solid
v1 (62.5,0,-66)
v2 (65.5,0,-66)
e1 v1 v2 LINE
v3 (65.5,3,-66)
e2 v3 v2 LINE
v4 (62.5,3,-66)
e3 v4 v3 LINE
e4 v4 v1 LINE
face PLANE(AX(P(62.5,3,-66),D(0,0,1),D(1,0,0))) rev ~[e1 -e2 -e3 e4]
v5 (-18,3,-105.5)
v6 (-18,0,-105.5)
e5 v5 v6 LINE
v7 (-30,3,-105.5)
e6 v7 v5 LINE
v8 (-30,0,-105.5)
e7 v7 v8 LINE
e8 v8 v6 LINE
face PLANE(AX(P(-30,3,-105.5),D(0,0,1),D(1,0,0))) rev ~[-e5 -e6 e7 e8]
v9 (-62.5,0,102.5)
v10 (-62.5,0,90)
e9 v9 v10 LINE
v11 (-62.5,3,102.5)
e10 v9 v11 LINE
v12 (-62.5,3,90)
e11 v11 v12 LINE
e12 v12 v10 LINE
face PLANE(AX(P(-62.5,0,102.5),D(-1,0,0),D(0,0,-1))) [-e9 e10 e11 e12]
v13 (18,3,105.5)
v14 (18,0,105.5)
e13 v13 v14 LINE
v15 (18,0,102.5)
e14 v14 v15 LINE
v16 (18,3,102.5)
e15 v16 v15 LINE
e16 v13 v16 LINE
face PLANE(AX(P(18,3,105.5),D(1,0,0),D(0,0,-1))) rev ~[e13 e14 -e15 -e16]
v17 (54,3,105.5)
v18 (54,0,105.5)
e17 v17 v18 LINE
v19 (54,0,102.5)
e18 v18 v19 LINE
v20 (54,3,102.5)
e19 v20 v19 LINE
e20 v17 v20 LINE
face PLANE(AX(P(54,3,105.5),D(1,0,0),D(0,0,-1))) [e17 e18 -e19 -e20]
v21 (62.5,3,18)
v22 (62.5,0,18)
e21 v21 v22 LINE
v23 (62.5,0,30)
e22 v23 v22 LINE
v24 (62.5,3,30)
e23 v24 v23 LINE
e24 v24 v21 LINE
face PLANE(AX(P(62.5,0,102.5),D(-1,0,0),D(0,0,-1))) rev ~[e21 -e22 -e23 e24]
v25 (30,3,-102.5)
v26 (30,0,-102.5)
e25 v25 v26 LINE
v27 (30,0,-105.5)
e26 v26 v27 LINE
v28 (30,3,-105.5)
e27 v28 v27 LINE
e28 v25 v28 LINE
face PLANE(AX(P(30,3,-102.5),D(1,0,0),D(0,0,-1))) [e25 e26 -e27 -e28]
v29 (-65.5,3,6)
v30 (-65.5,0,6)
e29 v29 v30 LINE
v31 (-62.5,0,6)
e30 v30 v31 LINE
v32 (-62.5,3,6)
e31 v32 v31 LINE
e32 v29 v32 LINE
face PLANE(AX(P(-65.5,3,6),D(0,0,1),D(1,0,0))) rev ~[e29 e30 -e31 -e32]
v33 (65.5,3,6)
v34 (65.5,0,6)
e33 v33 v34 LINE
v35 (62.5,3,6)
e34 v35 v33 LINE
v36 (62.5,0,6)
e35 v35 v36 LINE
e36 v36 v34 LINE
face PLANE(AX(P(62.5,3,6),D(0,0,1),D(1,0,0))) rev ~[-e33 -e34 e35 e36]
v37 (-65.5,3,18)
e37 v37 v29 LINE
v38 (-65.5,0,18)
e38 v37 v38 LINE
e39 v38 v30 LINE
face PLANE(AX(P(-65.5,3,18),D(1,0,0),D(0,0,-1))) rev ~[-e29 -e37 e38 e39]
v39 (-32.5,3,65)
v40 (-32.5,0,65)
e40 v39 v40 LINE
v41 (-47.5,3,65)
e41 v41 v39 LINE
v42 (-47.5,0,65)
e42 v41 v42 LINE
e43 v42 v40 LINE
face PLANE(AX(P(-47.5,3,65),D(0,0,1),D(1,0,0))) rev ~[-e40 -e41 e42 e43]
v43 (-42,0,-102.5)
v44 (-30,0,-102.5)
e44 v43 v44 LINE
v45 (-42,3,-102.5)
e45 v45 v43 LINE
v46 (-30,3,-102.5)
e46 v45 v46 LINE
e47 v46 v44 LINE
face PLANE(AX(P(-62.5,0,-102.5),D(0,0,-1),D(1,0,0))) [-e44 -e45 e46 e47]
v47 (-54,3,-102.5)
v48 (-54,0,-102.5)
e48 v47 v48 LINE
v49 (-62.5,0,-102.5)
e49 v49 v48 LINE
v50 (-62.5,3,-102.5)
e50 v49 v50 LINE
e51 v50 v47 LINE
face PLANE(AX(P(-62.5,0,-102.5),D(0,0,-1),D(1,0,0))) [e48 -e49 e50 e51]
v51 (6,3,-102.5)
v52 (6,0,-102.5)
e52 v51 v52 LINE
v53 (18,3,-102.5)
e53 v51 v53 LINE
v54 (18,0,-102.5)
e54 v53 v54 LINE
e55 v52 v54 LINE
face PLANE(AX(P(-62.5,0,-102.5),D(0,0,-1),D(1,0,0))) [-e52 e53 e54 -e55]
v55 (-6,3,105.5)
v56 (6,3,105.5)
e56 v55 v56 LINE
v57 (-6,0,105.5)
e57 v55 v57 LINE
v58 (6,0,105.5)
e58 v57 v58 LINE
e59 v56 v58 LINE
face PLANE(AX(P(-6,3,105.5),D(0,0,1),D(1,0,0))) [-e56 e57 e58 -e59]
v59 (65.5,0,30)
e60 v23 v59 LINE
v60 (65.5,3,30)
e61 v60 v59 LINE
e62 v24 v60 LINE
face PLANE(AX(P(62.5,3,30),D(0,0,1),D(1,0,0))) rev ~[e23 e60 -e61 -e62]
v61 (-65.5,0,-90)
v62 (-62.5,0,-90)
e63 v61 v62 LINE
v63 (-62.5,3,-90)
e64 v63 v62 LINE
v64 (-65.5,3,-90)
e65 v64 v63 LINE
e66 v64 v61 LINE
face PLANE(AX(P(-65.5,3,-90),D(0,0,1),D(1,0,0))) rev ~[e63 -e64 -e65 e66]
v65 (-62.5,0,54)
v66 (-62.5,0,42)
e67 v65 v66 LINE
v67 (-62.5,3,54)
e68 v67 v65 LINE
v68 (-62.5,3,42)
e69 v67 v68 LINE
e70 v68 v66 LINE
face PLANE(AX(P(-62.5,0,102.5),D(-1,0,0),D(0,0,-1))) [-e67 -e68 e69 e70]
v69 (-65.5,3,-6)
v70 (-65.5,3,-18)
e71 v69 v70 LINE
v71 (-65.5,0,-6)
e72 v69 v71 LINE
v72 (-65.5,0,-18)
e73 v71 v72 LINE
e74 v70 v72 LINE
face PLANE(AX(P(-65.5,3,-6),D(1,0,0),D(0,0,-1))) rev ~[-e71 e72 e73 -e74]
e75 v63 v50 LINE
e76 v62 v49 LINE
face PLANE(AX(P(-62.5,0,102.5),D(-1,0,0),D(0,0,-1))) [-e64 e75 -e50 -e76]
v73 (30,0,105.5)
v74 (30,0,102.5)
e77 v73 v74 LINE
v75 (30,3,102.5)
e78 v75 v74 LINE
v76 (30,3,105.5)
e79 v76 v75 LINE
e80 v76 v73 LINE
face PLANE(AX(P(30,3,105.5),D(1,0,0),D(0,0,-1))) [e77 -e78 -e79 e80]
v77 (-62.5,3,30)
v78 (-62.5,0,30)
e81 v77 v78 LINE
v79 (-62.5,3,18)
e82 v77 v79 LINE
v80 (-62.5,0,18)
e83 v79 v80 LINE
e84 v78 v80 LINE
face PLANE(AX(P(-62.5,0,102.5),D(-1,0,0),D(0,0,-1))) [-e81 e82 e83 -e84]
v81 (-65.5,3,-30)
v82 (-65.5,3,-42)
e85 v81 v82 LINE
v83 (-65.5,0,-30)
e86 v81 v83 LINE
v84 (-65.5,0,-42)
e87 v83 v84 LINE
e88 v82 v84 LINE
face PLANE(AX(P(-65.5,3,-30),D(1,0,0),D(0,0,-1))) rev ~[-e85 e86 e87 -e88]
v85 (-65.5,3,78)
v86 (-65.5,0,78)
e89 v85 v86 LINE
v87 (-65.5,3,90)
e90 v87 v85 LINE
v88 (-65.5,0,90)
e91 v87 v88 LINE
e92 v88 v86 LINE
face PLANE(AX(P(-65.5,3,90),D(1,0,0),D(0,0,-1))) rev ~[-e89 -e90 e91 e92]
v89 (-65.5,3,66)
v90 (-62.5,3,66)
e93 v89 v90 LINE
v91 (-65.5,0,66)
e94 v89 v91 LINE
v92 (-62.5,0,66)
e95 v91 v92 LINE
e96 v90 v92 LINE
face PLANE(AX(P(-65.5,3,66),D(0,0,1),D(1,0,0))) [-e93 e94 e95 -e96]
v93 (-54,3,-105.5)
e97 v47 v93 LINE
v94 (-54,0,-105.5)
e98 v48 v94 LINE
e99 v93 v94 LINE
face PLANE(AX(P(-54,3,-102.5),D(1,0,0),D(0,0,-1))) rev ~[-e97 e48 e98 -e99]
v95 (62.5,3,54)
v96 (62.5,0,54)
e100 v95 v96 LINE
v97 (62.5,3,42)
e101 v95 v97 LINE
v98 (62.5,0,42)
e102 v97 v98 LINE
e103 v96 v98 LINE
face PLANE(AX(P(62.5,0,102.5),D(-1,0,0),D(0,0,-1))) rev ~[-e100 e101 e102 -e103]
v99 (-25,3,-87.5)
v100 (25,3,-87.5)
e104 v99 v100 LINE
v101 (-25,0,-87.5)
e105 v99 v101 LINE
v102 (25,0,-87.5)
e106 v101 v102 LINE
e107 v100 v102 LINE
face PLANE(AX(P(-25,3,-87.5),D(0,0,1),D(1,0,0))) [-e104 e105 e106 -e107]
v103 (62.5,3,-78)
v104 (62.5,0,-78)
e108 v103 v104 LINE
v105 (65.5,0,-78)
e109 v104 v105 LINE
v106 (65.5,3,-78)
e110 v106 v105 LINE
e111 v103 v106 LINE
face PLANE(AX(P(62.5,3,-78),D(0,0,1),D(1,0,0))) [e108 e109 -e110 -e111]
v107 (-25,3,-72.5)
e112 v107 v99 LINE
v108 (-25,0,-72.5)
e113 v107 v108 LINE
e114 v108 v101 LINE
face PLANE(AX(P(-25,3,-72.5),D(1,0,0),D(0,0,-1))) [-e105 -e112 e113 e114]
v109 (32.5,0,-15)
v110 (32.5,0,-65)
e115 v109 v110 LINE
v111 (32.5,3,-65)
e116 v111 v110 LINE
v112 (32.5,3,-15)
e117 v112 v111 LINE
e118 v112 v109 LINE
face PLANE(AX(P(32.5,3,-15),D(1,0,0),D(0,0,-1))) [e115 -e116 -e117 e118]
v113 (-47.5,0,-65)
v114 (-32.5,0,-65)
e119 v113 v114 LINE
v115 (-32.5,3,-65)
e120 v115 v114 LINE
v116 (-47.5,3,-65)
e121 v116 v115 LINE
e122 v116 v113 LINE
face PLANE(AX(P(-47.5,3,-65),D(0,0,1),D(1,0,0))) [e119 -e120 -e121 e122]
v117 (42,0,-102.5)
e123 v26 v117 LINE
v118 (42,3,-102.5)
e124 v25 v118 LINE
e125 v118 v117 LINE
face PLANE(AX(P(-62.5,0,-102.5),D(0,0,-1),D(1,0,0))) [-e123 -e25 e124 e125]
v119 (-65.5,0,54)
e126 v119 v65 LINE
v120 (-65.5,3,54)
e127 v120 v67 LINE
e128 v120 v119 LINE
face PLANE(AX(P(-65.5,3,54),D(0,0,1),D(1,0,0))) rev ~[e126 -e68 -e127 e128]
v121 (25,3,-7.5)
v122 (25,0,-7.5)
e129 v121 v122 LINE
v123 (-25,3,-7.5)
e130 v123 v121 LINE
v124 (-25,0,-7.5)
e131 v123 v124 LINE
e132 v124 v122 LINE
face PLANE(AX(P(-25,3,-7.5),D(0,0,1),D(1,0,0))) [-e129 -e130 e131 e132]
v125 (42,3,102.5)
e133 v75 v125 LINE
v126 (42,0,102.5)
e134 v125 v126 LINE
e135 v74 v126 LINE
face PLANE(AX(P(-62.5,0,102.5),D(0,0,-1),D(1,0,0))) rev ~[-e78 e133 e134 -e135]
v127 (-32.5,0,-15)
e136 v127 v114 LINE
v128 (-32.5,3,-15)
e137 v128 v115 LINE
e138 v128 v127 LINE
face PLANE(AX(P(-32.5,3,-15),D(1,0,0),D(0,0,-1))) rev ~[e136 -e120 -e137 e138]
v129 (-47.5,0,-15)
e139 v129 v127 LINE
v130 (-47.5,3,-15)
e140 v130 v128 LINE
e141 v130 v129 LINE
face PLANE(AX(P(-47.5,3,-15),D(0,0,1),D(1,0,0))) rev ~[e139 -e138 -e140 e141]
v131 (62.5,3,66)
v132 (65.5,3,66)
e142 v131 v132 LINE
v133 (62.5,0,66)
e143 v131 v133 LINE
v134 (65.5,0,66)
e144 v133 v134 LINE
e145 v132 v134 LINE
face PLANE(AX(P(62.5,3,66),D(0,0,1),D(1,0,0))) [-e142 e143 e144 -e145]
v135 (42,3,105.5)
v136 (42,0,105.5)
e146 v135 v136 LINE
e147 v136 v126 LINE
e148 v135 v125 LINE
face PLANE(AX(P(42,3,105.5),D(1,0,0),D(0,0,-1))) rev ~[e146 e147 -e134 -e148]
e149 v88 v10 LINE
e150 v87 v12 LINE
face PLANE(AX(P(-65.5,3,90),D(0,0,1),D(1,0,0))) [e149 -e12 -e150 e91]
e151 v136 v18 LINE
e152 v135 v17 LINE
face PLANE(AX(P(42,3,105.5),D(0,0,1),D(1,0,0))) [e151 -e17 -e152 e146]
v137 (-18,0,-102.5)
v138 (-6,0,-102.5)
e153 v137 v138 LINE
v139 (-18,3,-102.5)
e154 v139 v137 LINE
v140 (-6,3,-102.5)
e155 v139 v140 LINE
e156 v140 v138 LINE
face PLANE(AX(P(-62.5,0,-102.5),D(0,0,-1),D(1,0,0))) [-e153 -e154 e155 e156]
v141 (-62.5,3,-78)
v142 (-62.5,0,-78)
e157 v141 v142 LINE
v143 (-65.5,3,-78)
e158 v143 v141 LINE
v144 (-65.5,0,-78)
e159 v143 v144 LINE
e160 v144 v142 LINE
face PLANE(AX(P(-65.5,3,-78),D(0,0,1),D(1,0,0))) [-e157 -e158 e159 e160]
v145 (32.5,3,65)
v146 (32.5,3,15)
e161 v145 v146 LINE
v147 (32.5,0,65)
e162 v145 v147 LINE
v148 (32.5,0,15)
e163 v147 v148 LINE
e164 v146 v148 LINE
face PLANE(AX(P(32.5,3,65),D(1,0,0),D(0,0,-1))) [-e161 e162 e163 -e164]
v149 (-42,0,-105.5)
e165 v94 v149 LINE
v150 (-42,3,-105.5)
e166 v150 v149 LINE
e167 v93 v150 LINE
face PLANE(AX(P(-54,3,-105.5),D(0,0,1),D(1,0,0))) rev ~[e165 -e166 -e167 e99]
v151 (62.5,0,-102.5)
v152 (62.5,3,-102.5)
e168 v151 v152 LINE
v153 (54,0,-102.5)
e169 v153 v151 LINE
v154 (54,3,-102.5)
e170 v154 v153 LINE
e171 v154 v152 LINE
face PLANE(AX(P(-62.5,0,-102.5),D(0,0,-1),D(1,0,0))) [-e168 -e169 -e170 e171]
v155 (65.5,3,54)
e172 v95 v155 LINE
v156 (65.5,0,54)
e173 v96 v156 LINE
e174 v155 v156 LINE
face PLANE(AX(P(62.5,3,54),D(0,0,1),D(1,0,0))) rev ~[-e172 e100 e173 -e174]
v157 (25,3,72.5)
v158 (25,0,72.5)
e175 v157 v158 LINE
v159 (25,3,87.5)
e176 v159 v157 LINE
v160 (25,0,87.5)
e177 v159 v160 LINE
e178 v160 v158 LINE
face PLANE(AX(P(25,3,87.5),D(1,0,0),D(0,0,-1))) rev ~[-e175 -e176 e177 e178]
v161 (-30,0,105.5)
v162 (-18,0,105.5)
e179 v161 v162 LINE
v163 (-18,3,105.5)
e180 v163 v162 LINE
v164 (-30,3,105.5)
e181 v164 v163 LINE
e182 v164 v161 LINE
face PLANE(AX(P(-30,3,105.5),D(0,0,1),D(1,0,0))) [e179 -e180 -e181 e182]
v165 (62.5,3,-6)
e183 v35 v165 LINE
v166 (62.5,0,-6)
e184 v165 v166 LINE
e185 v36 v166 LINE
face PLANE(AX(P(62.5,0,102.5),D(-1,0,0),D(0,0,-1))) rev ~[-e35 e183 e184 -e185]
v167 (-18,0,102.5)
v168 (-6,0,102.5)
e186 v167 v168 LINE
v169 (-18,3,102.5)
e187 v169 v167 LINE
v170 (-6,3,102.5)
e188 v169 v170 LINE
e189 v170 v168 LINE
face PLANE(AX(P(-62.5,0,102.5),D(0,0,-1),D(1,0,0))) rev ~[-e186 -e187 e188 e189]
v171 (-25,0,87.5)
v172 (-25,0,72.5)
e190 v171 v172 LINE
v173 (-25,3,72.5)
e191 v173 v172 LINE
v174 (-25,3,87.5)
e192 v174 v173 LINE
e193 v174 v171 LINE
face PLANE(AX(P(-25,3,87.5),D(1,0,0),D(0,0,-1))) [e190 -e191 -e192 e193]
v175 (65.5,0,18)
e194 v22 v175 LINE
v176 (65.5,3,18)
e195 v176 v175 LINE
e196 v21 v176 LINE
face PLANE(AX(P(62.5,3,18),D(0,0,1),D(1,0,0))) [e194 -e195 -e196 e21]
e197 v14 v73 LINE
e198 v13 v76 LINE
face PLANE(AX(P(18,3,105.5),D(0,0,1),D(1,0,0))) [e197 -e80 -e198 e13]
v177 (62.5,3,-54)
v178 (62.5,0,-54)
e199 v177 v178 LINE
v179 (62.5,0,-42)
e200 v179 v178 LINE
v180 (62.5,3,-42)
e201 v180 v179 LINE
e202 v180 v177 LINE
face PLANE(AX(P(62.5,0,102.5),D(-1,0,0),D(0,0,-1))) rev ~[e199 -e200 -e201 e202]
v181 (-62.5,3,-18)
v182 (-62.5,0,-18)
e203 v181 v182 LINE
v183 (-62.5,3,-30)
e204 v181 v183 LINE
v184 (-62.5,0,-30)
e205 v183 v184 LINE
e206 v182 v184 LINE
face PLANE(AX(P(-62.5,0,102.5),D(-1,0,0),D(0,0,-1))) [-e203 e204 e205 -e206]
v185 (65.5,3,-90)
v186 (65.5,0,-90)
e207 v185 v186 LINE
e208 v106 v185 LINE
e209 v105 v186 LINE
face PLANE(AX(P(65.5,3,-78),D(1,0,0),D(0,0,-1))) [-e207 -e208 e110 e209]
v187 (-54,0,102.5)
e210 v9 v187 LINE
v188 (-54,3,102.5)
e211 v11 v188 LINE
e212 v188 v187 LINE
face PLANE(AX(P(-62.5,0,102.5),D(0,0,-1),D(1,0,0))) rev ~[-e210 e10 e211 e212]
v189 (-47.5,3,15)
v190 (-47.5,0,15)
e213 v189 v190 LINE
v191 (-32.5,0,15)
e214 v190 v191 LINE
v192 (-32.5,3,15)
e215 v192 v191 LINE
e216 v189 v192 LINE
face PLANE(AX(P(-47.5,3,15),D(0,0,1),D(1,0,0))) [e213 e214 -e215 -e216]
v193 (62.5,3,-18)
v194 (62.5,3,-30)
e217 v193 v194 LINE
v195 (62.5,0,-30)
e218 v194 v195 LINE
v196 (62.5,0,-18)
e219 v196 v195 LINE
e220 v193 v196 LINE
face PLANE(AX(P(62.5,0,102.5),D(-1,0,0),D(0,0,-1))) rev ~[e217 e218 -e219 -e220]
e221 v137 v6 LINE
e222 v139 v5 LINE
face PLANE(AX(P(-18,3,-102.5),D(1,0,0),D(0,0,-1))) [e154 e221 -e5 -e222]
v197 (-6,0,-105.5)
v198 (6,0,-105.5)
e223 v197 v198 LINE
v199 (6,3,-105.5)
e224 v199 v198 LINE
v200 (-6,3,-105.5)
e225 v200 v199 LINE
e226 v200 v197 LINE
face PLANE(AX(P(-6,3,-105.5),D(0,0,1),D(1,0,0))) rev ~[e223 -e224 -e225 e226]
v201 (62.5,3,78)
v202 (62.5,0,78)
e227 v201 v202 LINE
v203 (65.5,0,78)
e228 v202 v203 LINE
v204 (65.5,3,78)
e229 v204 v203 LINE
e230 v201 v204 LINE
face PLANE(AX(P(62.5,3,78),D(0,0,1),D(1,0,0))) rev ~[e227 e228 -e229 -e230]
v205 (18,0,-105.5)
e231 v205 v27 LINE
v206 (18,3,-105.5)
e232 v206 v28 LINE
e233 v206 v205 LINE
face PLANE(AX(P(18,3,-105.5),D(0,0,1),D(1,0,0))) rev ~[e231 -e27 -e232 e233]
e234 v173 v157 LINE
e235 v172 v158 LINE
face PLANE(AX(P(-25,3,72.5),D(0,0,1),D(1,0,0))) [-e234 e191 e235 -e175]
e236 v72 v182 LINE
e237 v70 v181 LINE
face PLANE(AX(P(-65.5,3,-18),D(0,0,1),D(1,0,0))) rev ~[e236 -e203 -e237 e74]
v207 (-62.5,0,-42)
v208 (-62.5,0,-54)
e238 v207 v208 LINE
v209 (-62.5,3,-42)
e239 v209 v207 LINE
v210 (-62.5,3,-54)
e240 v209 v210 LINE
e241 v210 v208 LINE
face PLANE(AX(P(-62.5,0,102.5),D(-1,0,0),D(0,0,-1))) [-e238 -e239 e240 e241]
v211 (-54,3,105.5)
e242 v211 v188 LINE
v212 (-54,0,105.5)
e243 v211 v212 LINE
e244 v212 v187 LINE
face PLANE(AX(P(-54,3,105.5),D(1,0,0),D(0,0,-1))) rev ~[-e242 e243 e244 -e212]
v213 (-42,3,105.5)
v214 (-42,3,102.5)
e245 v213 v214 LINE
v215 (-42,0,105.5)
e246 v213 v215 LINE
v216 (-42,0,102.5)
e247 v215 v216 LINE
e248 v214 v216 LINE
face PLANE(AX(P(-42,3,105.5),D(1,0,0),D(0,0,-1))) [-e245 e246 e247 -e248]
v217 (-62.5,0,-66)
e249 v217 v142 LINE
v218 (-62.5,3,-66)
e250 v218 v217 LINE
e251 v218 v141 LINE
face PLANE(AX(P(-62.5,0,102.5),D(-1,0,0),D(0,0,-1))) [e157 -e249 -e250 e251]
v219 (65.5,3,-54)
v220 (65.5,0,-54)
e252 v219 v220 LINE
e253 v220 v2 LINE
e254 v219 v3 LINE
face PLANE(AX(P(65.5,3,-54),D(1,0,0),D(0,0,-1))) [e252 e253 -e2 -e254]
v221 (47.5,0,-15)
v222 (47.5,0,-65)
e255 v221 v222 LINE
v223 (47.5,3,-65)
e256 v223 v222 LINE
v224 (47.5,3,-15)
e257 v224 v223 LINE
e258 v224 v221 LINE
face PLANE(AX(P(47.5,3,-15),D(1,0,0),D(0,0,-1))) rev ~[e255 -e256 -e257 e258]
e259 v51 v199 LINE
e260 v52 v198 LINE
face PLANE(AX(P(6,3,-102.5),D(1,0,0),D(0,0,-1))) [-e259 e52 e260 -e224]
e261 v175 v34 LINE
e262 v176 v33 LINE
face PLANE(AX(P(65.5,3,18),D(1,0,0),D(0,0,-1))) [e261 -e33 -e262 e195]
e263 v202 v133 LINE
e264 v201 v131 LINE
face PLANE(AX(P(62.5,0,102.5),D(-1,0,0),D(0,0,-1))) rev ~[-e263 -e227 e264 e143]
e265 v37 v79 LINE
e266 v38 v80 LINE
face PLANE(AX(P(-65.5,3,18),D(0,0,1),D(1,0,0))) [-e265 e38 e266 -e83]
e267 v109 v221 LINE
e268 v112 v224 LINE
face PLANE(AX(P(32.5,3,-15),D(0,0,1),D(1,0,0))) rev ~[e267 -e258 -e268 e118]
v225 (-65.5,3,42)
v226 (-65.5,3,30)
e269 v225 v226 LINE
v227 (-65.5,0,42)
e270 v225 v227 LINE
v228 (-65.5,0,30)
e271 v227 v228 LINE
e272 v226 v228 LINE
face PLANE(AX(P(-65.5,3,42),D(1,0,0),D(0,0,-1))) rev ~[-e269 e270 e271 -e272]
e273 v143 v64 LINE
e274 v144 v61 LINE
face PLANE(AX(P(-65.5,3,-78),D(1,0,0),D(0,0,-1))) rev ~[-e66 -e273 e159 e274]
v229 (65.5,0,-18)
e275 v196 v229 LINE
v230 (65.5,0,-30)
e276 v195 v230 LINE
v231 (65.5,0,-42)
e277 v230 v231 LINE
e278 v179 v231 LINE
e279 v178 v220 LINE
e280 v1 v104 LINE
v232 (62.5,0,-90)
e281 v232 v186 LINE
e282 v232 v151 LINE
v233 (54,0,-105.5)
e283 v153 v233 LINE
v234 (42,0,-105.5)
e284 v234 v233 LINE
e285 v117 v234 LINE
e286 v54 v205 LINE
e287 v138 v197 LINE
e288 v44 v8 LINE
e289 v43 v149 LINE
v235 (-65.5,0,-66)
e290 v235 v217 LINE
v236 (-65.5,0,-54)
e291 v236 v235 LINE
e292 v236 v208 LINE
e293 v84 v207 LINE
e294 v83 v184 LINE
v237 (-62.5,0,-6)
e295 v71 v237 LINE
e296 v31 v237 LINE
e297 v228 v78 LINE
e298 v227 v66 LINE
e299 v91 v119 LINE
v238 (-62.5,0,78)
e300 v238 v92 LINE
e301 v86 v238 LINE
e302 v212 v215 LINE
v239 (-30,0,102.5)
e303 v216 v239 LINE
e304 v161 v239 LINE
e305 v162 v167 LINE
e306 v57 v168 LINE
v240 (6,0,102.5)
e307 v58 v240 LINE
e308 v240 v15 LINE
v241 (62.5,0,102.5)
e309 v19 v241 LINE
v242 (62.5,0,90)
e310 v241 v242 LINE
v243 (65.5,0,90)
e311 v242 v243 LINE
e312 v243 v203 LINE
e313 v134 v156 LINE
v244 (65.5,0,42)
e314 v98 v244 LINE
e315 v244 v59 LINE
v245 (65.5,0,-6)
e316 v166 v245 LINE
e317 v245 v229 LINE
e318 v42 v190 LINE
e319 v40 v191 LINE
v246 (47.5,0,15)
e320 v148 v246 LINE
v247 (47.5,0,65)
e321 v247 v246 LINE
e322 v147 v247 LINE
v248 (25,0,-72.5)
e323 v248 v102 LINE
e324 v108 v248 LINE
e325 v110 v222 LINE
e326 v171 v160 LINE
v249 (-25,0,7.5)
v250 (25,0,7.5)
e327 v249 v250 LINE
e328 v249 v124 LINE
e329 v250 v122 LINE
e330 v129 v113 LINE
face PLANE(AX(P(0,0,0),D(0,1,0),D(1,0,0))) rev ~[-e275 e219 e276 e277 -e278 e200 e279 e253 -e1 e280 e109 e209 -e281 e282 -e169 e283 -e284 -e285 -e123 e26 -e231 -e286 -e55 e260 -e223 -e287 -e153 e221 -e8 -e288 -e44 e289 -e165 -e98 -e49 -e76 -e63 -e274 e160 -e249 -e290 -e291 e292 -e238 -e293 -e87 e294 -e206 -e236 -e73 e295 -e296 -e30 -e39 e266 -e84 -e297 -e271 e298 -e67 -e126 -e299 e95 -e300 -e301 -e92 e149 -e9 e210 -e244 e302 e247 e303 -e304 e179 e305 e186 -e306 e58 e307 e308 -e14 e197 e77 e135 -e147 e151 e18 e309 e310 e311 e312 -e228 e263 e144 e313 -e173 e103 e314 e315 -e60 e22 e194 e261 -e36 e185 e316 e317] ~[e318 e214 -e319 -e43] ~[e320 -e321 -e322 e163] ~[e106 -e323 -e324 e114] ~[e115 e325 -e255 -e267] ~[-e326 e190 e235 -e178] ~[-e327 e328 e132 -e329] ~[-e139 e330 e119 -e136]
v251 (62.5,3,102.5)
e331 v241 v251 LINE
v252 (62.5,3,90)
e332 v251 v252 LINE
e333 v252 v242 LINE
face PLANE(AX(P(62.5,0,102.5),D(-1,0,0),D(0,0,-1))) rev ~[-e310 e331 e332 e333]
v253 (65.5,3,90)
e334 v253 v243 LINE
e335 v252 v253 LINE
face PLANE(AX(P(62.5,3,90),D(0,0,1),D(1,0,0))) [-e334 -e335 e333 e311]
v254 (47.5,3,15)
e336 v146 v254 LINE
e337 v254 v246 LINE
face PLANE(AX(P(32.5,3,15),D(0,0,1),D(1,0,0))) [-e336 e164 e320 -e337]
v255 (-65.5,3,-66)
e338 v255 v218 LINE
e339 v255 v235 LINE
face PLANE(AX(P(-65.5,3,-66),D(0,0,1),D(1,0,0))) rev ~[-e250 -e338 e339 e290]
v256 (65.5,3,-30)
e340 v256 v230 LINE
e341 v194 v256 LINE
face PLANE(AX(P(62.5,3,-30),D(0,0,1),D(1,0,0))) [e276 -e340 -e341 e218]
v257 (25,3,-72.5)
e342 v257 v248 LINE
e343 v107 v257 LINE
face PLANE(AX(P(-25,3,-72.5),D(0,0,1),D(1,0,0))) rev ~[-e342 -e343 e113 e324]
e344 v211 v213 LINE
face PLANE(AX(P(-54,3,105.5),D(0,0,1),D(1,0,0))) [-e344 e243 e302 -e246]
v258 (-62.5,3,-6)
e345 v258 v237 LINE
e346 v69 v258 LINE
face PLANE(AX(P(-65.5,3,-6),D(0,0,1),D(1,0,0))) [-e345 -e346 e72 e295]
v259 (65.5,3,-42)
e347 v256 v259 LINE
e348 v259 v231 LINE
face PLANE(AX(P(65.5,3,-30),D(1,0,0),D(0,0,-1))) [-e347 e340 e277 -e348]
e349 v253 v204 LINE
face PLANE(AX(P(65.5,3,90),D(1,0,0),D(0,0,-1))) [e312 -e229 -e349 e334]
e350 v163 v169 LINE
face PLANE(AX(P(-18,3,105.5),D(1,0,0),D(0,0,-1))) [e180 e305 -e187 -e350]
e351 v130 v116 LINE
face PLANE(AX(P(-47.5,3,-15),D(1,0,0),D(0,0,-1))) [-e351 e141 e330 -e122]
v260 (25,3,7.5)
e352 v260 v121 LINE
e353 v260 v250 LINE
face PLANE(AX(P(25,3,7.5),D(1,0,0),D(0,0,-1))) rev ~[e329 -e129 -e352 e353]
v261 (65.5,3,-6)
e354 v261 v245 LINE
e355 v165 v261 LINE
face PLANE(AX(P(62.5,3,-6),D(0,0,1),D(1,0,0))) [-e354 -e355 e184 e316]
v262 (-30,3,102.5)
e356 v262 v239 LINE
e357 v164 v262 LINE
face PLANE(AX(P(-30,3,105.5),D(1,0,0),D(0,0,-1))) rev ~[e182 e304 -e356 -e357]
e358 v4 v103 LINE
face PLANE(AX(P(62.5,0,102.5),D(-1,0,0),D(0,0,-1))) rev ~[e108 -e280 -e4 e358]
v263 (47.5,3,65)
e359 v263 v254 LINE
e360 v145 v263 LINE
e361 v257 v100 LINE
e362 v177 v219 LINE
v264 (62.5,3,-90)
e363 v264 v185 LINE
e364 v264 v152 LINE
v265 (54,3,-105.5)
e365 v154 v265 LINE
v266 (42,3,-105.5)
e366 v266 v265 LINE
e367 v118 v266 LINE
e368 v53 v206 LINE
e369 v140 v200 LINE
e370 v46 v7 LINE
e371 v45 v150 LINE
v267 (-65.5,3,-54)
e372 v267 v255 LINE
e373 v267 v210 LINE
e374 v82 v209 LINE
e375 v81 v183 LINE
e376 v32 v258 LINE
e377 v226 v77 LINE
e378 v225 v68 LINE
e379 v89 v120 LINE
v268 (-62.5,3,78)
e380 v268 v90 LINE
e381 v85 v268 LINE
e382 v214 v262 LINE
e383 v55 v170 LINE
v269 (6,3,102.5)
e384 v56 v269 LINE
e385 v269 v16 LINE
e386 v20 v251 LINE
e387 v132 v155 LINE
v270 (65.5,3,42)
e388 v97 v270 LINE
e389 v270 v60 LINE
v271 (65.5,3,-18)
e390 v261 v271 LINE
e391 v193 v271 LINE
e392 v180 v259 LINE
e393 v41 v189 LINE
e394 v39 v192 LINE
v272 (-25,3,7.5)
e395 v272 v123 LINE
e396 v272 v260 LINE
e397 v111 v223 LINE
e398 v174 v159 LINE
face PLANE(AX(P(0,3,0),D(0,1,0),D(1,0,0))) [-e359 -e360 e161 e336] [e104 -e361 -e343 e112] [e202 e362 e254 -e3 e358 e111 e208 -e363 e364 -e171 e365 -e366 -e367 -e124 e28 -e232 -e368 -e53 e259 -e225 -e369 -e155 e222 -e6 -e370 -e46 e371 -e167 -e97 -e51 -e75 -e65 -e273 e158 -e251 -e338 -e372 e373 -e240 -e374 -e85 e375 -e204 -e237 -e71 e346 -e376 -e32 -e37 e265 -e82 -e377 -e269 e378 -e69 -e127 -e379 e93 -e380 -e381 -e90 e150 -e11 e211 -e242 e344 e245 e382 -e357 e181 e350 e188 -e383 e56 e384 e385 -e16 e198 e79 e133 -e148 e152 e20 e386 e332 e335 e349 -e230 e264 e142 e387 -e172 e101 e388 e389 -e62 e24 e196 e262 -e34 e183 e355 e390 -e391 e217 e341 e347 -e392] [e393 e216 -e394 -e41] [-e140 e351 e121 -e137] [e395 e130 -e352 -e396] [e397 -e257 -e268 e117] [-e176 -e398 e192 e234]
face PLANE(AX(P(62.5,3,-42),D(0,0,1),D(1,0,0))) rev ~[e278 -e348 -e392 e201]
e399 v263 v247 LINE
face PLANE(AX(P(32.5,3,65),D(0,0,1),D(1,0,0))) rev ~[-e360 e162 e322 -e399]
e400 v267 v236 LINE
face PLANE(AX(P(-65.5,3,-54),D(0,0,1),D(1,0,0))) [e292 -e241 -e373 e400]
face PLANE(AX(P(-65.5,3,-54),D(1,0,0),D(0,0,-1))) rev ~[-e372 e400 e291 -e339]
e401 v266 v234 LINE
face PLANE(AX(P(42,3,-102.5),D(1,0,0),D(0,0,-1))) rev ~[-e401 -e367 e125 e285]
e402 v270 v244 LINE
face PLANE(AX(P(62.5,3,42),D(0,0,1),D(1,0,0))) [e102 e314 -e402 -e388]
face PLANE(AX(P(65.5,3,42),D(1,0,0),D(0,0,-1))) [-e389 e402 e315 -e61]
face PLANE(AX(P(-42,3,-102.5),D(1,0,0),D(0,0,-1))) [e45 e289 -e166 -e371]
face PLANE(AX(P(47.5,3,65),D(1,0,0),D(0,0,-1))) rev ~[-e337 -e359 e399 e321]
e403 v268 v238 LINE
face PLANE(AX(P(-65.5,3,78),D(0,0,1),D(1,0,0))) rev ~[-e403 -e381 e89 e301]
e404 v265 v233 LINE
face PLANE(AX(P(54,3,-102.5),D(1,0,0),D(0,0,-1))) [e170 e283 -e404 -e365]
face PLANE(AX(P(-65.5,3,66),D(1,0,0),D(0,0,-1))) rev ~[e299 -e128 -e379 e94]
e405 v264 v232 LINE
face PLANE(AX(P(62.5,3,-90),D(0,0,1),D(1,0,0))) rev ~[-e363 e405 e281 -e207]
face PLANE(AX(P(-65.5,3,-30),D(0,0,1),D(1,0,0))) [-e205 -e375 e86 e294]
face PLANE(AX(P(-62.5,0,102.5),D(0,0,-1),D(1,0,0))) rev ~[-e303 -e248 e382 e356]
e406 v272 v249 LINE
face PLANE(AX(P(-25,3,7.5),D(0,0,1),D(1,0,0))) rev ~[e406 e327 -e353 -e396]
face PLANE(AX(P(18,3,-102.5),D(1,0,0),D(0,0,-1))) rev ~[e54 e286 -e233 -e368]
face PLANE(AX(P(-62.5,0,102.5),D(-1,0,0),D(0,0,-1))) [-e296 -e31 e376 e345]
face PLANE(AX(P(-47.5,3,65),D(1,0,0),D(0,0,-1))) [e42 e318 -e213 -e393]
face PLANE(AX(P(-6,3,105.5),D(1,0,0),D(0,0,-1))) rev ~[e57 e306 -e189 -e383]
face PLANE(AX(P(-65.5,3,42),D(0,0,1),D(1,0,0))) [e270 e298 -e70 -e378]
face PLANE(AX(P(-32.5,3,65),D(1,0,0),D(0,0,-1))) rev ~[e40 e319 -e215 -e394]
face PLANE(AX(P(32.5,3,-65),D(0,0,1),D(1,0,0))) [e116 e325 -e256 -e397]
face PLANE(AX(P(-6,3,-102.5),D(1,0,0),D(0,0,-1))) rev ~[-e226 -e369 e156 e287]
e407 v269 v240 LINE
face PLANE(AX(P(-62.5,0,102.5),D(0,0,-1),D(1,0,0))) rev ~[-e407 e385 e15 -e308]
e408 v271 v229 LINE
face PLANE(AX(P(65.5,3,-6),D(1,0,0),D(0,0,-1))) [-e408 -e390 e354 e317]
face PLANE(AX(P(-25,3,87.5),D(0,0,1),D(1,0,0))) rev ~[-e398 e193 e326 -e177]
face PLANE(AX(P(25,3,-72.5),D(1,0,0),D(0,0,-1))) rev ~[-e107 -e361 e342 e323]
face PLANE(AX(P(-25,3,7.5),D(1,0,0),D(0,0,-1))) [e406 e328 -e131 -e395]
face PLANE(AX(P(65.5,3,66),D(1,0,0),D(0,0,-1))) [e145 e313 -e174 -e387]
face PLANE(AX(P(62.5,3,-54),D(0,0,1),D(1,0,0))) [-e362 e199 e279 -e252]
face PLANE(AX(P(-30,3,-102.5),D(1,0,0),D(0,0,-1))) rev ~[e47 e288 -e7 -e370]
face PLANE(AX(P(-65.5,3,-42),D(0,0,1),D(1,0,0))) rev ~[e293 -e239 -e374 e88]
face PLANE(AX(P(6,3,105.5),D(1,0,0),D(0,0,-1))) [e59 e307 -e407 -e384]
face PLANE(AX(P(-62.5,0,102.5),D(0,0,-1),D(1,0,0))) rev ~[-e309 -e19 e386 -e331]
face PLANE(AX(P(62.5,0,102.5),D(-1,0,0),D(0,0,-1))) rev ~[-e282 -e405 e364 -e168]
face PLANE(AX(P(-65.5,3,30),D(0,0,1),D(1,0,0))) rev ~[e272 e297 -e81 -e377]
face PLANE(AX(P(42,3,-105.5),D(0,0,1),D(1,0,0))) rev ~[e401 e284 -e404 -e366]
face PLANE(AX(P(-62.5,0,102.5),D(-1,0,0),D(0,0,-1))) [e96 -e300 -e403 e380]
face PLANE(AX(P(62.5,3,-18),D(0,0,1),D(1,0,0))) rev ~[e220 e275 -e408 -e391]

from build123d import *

# Parameters (mm, degrees)
SKETCH3_W           = 125
SKETCH3_H           = 205
BOSS_EXTRUDE1_DEPTH = 3
SKETCH4_W           = 15
SKETCH4_H           = 50
SKETCH4_W_2         = 50
SKETCH4_H_2         = 15
CUT_EXTRUDE1_DEPTH  = 6
SKETCH5_W           = 12
SKETCH5_H           = 3
SKETCH5_W_2         = 3
SKETCH5_H_2         = 12
BOSS_EXTRUDE2_DEPTH = 3


with BuildPart() as part:
    # Sketch3 → Boss-Extrude1 (new body)
    with BuildSketch(Plane(origin=(0, 0, 0), x_dir=(1, 0, 0), z_dir=(0, 1, 0))):
        Rectangle(SKETCH3_W, SKETCH3_H)
    extrude(amount=BOSS_EXTRUDE1_DEPTH)

    # Sketch4 → Cut-Extrude1 (cut)
    with BuildSketch(Plane(origin=(0, 3, 0), x_dir=(1, 0, 0), z_dir=(0, 1, 0))):
        with Locations((-40, 40)):
            Rectangle(SKETCH4_W, SKETCH4_H)
        with Locations((40, 40)):
            Rectangle(SKETCH4_W, SKETCH4_H)
        Rectangle(SKETCH4_W_2, SKETCH4_H_2)
        with Locations((-40, -40)):
            Rectangle(SKETCH4_W, SKETCH4_H)
        with Locations((40, -40)):
            Rectangle(SKETCH4_W, SKETCH4_H)
        with Locations((0, 80)):
            Rectangle(SKETCH4_W_2, SKETCH4_H_2)
        with Locations((0, -80)):
            Rectangle(SKETCH4_W_2, SKETCH4_H_2)
    extrude(amount=-CUT_EXTRUDE1_DEPTH, mode=Mode.SUBTRACT)

    # Sketch5 → Boss-Extrude2 (add)
    with BuildSketch(Plane(origin=(0, 3, 0), x_dir=(1, 0, 0), z_dir=(0, 1, 0))):
        with Locations((24, -104)):
            Rectangle(SKETCH5_W, SKETCH5_H)
        with Locations((0, -104)):
            Rectangle(SKETCH5_W, SKETCH5_H)
        with Locations((-64, -84)):
            Rectangle(SKETCH5_W_2, SKETCH5_H_2)
        with Locations((-64, -60)):
            Rectangle(SKETCH5_W_2, SKETCH5_H_2)
        with Locations((-64, -12)):
            Rectangle(SKETCH5_W_2, SKETCH5_H_2)
        with Locations((64, -84)):
            Rectangle(SKETCH5_W_2, SKETCH5_H_2)
        with Locations((64, -36)):
            Rectangle(SKETCH5_W_2, SKETCH5_H_2)
        with Locations((64, -12)):
            Rectangle(SKETCH5_W_2, SKETCH5_H_2)
        with Locations((64, 12)):
            Rectangle(SKETCH5_W_2, SKETCH5_H_2)
        with Locations((64, 36)):
            Rectangle(SKETCH5_W_2, SKETCH5_H_2)
        with Locations((64, 84)):
            Rectangle(SKETCH5_W_2, SKETCH5_H_2)
        with Locations((24, 104)):
            Rectangle(SKETCH5_W, SKETCH5_H)
        with Locations((0, 104)):
            Rectangle(SKETCH5_W, SKETCH5_H)
        with Locations((-24, 104)):
            Rectangle(SKETCH5_W, SKETCH5_H)
        with Locations((-48, 104)):
            Rectangle(SKETCH5_W, SKETCH5_H)
        with Locations((-64, 36)):
            Rectangle(SKETCH5_W_2, SKETCH5_H_2)
        with Locations((-64, 12)):
            Rectangle(SKETCH5_W_2, SKETCH5_H_2)
        with Locations((48, -104)):
            Rectangle(SKETCH5_W, SKETCH5_H)
        with Locations((-24, -104)):
            Rectangle(SKETCH5_W, SKETCH5_H)
        with Locations((-48, -104)):
            Rectangle(SKETCH5_W, SKETCH5_H)
        with Locations((-64, -36)):
            Rectangle(SKETCH5_W_2, SKETCH5_H_2)
        with Locations((64, -60)):
            Rectangle(SKETCH5_W_2, SKETCH5_H_2)
        with Locations((64, 60)):
            Rectangle(SKETCH5_W_2, SKETCH5_H_2)
        with Locations((48, 104)):
            Rectangle(SKETCH5_W, SKETCH5_H)
        with Locations((-64, 84)):
            Rectangle(SKETCH5_W_2, SKETCH5_H_2)
        with Locations((-64, 60)):
            Rectangle(SKETCH5_W_2, SKETCH5_H_2)
    extrude(amount=-BOSS_EXTRUDE2_DEPTH)


solid = part.part
